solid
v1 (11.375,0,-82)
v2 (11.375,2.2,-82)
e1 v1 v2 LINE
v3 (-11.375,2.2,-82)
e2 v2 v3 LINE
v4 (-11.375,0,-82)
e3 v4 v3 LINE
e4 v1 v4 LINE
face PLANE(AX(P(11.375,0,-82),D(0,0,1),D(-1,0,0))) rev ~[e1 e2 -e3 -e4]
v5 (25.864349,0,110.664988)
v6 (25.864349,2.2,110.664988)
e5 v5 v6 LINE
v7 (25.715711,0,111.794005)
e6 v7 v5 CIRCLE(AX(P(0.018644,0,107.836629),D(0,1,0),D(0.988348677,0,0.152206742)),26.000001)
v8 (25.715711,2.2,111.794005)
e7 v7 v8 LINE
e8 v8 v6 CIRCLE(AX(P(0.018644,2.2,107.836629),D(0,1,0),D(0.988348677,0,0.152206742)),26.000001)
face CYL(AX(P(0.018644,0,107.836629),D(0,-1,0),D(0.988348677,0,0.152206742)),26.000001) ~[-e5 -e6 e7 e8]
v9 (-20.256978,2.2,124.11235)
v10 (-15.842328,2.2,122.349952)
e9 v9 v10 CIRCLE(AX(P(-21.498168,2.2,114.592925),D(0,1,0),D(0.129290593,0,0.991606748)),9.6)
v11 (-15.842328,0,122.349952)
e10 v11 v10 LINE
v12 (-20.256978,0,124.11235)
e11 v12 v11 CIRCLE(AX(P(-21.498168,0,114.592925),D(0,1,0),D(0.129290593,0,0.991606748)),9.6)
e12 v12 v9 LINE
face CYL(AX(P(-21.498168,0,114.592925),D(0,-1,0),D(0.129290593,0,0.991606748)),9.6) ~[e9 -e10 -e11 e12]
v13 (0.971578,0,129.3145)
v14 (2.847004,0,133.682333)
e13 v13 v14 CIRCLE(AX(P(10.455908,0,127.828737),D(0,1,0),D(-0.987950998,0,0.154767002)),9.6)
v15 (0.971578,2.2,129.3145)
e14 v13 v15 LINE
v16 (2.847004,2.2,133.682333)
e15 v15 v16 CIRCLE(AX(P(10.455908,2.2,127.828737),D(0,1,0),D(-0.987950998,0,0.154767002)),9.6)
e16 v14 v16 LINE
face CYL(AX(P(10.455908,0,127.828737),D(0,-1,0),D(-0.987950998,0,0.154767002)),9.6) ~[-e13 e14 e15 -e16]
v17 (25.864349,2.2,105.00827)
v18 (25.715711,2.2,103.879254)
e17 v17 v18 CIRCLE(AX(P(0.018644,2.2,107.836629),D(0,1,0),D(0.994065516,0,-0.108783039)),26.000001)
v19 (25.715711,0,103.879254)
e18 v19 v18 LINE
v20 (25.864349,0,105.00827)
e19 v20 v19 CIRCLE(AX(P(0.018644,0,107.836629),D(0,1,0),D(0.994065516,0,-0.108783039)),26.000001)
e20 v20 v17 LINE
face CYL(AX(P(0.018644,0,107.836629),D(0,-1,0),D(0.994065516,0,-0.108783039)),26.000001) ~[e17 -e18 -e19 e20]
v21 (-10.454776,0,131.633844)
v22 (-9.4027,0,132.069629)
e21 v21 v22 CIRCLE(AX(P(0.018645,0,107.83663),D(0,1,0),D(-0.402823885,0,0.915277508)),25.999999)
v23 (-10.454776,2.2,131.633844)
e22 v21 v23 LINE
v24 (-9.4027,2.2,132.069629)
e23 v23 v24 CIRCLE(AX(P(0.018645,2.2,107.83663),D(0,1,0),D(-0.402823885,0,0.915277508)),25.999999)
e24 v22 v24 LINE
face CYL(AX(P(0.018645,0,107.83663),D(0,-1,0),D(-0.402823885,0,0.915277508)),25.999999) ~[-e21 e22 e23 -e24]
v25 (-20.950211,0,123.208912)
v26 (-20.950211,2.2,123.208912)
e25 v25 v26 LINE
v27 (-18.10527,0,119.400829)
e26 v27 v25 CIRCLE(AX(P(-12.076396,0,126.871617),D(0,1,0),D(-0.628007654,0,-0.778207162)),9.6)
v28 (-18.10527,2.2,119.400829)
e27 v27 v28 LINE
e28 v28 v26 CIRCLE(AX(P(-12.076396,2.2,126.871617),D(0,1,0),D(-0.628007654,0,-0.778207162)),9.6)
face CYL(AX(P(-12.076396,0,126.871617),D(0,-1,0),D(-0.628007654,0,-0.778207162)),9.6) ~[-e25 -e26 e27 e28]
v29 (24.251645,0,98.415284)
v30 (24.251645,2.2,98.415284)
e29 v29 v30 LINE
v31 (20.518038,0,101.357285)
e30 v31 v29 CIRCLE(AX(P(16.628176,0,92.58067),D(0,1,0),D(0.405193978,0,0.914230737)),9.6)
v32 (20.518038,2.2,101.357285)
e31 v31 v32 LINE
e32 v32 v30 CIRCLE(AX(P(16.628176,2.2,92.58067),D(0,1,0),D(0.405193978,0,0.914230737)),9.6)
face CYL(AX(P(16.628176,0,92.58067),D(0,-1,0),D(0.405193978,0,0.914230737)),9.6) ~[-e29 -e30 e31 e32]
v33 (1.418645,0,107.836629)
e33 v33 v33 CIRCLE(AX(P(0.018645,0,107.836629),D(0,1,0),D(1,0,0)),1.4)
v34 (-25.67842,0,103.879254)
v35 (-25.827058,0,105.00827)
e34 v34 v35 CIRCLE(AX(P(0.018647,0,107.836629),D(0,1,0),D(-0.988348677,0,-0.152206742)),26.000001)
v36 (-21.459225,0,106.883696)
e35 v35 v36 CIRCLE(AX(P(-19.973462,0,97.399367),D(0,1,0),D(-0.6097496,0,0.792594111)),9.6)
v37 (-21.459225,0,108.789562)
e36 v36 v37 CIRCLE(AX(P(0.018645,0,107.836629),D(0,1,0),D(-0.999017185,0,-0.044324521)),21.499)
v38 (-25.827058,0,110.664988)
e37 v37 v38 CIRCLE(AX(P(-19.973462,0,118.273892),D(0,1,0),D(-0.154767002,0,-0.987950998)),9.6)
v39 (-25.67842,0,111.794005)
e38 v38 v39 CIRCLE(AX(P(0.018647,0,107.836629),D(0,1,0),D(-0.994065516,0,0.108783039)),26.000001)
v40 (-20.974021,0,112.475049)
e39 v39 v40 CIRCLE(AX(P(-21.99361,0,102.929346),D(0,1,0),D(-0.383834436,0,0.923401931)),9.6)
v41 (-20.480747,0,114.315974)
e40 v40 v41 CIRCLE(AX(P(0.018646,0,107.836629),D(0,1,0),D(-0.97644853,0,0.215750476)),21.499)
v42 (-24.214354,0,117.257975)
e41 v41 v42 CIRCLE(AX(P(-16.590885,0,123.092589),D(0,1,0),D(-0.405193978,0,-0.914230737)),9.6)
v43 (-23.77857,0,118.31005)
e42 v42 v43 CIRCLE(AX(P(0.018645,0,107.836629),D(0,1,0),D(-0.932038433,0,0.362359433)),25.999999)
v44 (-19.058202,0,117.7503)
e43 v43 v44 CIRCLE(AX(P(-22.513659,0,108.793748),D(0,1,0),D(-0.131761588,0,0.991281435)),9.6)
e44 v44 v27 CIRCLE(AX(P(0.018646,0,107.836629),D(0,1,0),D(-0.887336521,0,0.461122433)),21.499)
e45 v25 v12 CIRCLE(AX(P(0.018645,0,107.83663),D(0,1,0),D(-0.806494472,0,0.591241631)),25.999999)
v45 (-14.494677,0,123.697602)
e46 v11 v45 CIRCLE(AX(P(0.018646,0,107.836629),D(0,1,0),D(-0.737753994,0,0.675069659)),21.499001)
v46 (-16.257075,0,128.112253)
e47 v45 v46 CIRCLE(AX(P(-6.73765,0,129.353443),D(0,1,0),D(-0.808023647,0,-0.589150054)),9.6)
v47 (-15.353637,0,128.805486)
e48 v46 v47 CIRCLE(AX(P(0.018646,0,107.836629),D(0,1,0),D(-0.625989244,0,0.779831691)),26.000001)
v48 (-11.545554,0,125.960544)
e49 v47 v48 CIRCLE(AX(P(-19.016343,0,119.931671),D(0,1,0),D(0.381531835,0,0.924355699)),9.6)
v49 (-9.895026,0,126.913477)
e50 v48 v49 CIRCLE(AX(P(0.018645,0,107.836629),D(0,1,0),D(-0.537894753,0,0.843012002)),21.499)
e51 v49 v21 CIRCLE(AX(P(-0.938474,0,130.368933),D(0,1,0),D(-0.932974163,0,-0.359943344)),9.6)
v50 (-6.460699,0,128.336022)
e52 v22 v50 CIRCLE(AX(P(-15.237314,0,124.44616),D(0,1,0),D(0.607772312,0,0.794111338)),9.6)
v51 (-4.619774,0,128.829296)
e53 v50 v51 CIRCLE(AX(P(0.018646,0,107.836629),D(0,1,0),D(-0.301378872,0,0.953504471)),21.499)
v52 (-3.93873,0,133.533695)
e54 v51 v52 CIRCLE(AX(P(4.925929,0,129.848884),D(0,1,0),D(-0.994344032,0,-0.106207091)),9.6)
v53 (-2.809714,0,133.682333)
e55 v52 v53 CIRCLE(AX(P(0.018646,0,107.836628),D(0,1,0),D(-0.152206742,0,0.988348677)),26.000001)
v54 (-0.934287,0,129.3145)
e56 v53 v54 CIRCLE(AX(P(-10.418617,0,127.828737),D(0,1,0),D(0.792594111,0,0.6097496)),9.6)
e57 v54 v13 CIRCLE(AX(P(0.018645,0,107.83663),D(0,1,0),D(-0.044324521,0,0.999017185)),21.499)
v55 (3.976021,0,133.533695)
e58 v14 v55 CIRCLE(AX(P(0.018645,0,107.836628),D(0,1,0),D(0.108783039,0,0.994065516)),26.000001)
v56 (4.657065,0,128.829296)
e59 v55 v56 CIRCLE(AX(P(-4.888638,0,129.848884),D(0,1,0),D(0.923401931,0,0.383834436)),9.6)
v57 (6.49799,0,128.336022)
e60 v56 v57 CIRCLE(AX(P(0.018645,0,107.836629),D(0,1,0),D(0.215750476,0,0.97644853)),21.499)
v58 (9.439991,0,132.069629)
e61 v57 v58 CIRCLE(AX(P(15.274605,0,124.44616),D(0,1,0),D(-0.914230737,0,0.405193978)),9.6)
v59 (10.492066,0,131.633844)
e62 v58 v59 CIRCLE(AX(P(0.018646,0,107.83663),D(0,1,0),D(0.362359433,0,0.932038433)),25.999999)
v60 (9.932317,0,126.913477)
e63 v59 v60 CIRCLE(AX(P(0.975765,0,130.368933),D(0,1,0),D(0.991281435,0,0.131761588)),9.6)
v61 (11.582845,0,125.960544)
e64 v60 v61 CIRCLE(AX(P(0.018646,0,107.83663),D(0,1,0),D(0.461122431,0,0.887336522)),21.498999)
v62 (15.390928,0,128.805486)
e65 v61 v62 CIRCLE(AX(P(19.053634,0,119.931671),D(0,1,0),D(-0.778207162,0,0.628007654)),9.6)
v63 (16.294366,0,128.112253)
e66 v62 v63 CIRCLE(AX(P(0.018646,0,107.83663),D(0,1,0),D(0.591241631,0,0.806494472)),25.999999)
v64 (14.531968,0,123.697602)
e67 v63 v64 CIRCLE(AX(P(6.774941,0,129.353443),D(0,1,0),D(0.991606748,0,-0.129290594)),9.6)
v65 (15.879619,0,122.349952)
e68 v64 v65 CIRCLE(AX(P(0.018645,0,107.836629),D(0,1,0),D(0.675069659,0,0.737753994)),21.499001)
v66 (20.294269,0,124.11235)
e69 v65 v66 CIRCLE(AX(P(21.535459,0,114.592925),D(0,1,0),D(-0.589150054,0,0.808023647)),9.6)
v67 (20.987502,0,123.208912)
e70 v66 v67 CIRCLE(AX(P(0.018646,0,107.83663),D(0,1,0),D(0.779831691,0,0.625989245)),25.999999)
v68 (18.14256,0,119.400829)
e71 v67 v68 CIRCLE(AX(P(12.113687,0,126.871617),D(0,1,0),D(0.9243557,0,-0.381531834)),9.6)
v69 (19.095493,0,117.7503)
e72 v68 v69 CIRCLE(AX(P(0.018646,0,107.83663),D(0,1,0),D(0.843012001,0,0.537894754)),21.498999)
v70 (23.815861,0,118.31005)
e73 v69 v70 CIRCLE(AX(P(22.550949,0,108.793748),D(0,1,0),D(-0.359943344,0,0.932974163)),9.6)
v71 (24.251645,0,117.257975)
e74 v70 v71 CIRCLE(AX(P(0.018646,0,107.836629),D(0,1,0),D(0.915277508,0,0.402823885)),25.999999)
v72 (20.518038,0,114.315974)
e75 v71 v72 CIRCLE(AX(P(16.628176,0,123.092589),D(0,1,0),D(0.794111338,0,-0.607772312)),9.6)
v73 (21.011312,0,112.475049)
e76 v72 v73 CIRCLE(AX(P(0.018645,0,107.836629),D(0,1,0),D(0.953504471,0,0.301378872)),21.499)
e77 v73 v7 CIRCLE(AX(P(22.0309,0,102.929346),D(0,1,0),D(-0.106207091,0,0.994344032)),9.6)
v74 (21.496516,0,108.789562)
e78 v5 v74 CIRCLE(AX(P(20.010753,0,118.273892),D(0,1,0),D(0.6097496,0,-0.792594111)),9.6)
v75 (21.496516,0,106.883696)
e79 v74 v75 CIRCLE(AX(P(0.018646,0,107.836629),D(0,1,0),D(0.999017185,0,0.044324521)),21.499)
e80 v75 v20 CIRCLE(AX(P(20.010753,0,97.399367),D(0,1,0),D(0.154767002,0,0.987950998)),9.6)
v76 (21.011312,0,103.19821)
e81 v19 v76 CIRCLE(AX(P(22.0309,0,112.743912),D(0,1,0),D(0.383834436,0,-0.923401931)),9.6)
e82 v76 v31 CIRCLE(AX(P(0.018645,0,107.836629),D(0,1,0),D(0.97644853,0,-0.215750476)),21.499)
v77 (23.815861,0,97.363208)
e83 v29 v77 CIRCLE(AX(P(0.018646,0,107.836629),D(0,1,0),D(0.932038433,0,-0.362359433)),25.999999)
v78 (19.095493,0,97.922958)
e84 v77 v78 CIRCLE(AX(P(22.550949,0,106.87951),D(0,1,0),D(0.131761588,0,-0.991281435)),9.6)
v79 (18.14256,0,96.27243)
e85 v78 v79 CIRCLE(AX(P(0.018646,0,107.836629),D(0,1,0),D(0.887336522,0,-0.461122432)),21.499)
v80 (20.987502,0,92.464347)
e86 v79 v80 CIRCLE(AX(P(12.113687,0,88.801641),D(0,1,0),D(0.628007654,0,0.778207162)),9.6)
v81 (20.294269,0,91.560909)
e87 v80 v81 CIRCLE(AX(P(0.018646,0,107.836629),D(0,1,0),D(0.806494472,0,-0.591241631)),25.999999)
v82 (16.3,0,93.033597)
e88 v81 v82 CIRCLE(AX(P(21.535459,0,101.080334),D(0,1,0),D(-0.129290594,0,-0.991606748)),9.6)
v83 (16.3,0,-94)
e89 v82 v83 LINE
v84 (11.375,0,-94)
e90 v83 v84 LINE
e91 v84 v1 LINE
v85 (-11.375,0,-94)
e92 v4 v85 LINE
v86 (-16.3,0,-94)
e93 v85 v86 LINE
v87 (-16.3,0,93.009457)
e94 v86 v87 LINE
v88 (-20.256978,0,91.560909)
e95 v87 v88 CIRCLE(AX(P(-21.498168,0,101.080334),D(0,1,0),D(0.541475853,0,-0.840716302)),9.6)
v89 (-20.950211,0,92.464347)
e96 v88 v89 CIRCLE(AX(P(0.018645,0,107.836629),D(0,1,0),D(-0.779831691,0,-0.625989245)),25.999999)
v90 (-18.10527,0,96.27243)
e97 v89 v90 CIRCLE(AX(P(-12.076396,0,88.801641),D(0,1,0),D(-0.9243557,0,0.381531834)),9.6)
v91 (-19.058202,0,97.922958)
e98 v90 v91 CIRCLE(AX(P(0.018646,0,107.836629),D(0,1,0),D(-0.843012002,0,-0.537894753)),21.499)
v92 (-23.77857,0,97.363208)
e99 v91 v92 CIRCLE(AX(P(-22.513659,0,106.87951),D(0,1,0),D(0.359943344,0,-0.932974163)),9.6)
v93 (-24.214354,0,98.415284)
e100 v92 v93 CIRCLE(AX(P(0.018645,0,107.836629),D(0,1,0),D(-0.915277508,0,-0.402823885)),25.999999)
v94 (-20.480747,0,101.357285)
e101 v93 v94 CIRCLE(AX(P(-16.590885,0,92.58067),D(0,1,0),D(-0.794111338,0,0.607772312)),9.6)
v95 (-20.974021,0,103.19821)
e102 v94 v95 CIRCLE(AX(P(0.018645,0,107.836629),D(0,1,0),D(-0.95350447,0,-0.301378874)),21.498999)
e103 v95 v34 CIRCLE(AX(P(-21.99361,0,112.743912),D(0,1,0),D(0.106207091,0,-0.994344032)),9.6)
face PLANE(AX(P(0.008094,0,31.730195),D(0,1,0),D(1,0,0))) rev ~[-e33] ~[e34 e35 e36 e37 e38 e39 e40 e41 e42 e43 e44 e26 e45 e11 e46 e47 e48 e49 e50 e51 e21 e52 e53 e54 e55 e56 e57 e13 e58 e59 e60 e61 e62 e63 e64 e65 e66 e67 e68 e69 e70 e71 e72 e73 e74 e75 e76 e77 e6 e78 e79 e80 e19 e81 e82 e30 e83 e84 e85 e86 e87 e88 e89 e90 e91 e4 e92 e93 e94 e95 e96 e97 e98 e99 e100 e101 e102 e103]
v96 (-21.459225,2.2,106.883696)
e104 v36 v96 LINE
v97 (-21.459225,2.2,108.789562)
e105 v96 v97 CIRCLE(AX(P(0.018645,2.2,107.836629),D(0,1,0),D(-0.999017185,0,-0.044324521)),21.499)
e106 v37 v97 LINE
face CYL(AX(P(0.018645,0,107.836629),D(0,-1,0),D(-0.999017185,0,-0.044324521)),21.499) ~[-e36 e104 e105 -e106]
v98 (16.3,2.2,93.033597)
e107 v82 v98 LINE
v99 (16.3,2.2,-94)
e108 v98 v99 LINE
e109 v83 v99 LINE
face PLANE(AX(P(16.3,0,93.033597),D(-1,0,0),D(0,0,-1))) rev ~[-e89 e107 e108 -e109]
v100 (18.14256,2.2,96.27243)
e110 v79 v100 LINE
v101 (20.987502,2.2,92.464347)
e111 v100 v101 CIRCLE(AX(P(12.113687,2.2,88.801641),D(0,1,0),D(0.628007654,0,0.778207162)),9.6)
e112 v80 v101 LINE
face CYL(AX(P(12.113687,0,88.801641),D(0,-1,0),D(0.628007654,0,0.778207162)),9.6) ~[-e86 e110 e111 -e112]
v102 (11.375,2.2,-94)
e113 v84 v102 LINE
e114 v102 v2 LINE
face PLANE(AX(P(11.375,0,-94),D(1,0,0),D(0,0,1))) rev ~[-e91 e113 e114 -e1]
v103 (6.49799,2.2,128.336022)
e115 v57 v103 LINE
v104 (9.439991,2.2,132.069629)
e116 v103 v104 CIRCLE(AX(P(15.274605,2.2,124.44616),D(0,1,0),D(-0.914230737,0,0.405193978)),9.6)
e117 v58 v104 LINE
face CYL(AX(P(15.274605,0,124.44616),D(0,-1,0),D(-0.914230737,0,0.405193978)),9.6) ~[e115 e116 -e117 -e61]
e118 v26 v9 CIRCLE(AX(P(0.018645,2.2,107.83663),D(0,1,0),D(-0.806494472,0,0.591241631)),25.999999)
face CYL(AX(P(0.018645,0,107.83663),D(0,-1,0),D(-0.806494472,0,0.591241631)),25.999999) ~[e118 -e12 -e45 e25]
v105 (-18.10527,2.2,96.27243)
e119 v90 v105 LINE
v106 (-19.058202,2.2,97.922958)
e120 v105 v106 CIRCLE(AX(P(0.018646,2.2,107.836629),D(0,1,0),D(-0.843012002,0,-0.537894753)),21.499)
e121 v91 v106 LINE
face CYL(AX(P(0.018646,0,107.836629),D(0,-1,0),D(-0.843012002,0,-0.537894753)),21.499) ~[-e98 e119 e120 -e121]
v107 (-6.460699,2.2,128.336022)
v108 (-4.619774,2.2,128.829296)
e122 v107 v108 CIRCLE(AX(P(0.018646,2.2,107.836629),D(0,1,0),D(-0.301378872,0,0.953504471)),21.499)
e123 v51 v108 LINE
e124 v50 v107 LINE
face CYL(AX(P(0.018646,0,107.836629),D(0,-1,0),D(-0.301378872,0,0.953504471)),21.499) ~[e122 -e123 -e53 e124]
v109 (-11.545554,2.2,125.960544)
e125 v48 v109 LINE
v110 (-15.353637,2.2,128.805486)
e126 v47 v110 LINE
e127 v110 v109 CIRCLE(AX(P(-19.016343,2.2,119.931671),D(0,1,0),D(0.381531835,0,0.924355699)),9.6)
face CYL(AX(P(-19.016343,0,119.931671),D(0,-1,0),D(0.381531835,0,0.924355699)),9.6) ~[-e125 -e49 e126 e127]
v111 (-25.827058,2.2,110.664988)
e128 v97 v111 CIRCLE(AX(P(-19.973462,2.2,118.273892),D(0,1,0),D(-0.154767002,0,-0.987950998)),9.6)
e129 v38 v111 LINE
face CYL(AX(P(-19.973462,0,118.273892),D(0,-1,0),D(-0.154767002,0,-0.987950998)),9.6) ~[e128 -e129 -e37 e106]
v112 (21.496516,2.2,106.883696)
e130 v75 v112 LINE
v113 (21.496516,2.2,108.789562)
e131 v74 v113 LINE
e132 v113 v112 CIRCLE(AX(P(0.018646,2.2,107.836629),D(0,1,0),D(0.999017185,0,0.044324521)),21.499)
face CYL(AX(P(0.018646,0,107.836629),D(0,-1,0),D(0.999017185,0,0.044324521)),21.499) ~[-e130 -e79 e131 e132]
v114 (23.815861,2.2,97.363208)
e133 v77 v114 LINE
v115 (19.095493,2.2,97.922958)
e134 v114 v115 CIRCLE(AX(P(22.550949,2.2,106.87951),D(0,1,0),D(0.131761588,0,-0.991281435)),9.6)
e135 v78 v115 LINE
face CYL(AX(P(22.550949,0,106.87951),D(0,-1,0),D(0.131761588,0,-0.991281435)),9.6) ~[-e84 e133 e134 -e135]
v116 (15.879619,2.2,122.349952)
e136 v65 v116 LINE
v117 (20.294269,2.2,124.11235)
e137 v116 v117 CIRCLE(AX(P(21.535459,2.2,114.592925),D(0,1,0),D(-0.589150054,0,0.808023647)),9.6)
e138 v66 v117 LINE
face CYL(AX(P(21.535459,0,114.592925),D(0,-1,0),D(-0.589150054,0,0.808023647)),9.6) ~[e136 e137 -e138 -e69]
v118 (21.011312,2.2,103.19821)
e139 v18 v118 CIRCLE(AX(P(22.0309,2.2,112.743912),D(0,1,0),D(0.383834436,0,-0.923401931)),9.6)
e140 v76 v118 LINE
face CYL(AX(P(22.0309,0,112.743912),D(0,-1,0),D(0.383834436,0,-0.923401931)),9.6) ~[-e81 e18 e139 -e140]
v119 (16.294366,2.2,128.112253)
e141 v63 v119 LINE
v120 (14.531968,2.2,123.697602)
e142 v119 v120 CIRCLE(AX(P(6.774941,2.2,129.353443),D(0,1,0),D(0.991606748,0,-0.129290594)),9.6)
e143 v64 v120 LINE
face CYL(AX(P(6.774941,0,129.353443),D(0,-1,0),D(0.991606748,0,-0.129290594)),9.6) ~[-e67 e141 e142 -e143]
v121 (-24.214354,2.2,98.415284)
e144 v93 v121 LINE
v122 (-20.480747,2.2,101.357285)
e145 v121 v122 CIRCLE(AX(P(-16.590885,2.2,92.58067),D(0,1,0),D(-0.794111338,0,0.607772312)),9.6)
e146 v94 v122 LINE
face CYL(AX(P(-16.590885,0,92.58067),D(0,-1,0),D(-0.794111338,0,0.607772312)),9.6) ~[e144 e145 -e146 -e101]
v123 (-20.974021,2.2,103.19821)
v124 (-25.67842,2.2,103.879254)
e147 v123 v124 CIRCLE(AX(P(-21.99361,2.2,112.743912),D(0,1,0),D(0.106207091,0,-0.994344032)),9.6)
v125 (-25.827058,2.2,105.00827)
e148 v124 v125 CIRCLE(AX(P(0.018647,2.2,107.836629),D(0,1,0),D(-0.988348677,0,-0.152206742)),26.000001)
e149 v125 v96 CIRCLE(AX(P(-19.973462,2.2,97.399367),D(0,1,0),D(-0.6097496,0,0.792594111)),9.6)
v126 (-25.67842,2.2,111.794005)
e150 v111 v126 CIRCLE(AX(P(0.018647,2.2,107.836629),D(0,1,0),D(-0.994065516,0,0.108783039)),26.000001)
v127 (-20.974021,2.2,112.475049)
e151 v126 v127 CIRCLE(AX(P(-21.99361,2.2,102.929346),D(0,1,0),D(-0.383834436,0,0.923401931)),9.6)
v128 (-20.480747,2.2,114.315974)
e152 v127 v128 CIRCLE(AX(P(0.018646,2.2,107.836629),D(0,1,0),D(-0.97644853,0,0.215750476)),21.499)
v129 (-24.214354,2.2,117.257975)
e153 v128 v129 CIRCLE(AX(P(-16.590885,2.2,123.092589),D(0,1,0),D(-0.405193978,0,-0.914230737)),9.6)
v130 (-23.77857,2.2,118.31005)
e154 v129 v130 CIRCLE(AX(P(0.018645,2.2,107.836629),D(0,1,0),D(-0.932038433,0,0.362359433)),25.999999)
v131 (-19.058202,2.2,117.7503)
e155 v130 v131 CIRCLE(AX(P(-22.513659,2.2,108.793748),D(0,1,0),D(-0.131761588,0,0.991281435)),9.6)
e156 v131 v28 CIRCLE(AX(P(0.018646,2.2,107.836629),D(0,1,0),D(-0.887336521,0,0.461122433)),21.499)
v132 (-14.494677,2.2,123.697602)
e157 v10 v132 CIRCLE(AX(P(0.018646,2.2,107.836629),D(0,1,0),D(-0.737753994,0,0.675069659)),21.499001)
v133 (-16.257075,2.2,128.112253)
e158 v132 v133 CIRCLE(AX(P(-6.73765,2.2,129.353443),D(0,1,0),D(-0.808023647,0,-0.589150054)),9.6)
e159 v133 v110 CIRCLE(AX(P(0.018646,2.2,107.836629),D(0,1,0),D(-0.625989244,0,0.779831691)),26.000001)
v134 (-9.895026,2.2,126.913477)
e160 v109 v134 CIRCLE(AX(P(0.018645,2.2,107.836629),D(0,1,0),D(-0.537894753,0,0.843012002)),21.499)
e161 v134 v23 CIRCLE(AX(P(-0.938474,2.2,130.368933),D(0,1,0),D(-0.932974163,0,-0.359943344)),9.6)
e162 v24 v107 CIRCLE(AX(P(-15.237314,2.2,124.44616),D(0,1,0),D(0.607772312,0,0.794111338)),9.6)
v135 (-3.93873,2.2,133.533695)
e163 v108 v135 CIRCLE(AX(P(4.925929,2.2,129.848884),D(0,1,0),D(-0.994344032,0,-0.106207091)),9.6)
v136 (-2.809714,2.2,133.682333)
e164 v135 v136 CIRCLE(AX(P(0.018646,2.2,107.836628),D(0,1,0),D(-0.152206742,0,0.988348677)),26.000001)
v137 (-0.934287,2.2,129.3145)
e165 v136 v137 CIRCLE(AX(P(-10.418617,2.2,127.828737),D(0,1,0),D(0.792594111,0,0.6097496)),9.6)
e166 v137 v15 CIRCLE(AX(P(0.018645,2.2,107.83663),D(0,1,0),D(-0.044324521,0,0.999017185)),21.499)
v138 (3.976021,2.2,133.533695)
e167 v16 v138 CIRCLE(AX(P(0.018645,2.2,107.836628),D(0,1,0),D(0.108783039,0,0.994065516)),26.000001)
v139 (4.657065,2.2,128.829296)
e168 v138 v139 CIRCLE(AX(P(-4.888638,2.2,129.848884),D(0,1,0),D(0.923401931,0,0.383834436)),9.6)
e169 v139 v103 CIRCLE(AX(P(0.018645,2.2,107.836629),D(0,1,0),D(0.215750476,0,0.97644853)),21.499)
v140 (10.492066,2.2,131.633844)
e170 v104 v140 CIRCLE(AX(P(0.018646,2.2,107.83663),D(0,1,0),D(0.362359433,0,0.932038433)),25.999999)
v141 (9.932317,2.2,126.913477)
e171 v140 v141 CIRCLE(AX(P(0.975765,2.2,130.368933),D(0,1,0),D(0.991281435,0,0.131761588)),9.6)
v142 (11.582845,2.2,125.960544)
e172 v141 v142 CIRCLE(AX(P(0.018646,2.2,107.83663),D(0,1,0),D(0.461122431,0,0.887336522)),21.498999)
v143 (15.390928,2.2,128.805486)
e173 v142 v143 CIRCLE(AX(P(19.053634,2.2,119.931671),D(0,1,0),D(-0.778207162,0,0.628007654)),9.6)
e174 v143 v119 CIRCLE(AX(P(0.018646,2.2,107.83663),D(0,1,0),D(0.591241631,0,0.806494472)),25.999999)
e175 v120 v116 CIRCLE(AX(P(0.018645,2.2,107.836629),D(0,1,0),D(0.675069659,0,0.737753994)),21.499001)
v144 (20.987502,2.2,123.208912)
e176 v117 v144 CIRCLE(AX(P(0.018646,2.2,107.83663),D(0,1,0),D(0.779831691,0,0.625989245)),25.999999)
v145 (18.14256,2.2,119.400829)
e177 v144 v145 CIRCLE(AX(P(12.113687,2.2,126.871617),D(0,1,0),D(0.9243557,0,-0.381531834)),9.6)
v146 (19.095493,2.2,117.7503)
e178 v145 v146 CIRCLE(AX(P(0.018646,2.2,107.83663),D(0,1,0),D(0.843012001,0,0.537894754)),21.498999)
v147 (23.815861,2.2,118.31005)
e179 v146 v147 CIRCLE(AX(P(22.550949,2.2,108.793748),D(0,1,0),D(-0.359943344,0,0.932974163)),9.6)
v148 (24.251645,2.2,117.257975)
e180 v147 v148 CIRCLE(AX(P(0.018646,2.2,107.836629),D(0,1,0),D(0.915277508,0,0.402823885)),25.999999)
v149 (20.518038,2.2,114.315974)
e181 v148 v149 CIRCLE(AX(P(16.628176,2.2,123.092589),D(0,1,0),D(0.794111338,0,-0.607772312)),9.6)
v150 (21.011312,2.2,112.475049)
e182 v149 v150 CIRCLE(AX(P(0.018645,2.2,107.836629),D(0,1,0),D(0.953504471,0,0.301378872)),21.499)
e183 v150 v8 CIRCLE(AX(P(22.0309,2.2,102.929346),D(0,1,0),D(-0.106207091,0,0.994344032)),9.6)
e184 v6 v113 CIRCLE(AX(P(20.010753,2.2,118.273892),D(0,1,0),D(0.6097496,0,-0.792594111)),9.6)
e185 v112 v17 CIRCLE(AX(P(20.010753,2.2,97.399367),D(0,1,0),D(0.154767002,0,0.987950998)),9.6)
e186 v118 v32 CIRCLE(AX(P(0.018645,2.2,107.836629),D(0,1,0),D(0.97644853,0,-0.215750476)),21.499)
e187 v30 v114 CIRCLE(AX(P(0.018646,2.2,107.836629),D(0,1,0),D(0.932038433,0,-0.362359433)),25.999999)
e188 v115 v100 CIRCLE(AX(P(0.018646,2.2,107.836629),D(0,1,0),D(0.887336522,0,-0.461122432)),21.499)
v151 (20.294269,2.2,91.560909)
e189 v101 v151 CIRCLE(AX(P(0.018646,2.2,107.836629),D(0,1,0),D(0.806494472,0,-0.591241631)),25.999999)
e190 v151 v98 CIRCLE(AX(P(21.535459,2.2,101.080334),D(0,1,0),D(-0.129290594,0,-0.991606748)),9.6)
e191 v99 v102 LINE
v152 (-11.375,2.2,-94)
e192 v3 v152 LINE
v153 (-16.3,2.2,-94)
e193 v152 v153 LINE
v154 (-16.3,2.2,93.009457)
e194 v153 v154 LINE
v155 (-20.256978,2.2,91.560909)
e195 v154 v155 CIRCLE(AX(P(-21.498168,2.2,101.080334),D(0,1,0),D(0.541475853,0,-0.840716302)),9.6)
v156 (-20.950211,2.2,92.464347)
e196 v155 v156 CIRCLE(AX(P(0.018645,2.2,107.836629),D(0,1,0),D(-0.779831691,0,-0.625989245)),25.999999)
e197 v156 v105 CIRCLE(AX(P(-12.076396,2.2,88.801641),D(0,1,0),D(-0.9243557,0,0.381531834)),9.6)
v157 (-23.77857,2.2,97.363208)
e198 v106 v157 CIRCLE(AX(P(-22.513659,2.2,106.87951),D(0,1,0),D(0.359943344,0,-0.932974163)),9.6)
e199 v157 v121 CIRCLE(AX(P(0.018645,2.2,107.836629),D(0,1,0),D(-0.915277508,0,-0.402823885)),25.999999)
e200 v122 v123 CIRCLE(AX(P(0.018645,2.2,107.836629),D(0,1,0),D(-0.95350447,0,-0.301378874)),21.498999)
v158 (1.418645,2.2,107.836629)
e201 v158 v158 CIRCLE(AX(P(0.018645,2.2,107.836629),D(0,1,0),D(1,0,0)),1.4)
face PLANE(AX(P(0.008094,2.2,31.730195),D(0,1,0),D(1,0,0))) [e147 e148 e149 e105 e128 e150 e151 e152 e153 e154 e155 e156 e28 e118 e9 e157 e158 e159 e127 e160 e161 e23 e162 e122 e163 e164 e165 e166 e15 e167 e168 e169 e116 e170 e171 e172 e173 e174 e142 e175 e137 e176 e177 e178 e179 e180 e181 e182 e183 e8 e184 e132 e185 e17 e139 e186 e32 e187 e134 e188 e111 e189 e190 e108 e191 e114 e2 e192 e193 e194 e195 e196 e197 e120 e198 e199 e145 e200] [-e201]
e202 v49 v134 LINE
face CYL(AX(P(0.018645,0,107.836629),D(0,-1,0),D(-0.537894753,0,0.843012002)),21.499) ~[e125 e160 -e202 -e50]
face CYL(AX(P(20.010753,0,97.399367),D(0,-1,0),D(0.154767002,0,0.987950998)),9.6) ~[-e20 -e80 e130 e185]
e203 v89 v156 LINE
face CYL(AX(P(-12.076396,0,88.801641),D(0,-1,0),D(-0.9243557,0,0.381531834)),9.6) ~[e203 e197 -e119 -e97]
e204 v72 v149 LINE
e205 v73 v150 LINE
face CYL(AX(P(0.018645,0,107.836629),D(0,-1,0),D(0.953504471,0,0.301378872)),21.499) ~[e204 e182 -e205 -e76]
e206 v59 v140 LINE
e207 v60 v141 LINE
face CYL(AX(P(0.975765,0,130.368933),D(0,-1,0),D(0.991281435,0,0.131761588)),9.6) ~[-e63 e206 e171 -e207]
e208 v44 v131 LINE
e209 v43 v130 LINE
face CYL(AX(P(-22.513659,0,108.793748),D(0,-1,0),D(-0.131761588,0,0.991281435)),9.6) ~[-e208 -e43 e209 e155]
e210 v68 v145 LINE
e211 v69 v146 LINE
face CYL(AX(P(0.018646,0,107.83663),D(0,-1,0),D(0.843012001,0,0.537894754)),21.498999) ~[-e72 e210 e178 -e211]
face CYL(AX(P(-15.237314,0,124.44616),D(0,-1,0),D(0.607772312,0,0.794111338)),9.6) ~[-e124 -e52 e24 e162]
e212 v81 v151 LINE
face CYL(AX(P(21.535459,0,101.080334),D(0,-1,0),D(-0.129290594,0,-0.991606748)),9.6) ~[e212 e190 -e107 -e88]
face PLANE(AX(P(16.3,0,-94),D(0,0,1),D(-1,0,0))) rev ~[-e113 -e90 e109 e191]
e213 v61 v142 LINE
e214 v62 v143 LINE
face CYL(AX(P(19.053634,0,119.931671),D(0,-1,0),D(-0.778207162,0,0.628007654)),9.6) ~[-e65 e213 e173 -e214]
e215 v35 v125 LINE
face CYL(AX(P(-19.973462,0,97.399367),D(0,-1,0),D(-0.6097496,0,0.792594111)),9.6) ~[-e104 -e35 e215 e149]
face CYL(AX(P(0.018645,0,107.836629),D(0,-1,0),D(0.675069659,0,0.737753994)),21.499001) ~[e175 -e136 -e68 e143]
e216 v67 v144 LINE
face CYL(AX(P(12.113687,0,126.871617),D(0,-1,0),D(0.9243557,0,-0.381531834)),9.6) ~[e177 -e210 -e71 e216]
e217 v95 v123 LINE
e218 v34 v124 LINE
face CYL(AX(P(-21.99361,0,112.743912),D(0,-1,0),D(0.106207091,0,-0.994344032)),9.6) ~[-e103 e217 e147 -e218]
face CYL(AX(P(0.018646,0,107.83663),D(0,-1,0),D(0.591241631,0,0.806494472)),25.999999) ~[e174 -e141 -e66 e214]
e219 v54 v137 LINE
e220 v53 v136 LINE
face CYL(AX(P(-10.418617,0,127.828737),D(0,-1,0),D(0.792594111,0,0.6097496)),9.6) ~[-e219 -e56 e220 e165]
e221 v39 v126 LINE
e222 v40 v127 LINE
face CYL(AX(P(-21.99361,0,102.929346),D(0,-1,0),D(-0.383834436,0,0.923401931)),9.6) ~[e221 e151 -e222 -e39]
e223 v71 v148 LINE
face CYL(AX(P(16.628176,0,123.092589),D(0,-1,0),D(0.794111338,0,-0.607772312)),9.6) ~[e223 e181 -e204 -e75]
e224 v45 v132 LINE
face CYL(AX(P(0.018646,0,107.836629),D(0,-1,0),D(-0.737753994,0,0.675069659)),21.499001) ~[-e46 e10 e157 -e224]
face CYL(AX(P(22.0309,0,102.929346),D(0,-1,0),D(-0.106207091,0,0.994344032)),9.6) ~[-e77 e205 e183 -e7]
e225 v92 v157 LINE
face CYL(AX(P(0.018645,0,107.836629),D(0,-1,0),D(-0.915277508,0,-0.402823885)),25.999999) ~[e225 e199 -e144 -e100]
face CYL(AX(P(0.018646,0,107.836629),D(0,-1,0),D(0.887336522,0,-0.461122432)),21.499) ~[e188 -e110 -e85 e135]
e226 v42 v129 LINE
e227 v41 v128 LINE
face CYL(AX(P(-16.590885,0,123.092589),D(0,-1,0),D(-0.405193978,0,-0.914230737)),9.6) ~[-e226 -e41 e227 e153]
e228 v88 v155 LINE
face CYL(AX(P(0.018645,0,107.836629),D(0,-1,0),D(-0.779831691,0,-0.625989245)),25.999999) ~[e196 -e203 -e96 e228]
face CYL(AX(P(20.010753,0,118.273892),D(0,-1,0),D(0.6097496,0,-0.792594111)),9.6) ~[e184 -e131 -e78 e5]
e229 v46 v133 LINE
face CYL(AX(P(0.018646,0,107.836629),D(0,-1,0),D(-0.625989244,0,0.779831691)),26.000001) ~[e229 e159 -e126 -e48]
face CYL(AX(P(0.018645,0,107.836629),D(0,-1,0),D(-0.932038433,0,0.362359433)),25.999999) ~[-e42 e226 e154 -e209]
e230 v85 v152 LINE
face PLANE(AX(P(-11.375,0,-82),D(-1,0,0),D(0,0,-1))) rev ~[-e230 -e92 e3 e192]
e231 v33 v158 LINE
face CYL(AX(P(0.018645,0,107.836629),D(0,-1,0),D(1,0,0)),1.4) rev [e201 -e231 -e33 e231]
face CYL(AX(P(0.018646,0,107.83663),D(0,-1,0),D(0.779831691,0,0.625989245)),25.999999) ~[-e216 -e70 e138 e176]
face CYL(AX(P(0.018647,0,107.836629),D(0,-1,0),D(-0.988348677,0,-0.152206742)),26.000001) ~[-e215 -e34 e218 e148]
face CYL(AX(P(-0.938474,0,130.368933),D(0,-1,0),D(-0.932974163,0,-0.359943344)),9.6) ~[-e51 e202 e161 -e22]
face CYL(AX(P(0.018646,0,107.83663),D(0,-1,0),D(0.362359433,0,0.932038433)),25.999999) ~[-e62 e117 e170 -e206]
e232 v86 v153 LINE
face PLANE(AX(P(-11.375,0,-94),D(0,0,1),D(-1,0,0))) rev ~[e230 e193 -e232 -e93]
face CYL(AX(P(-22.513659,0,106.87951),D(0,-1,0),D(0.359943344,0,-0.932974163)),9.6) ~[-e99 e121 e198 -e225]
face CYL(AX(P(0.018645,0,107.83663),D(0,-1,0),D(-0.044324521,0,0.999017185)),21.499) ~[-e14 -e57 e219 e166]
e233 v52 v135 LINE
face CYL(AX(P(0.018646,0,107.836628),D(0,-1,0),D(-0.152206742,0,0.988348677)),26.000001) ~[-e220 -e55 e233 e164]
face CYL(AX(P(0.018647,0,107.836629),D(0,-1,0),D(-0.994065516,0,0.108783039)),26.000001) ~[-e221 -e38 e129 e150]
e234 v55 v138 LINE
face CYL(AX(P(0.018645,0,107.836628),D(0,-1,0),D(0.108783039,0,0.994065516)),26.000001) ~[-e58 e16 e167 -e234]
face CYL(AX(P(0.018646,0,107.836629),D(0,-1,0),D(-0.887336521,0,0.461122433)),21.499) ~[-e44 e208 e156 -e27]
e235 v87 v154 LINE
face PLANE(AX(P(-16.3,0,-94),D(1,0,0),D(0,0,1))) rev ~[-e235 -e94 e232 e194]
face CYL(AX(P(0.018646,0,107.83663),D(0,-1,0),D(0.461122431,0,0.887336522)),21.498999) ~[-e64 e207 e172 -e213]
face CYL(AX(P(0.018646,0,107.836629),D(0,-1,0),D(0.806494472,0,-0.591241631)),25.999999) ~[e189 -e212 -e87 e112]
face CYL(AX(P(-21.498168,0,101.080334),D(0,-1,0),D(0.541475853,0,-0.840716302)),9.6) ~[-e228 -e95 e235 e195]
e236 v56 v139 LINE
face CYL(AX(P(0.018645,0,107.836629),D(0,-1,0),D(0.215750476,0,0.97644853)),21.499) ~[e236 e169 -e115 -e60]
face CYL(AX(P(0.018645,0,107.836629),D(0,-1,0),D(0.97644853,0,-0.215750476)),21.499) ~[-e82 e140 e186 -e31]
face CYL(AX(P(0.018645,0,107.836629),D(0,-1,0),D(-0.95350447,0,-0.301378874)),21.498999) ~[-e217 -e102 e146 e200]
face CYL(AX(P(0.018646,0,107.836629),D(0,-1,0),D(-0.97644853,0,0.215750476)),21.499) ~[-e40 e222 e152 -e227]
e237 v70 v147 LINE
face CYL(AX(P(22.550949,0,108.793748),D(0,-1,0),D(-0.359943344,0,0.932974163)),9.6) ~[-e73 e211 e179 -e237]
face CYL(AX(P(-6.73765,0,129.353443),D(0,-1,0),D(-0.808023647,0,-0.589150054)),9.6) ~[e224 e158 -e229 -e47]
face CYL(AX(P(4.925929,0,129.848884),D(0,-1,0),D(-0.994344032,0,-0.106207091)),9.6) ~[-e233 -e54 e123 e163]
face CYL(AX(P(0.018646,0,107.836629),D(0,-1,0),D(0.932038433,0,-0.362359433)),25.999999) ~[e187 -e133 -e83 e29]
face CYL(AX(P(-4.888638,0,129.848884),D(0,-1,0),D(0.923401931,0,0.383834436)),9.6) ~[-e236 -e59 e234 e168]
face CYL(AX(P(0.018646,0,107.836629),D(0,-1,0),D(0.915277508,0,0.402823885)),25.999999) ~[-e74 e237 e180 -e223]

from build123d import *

# Parameters (mm, degrees)
SKETCH1_R           = 1.4
BOSS_EXTRUDE2_DEPTH = 2.2


with BuildPart() as part:
    # Sketch1 → Boss-Extrude2 (new body)
    with BuildSketch(Plane(origin=(0, 0, 0), x_dir=(1, 0, 0), z_dir=(0, 1, 0))):
        with BuildLine():
            Line((16.3, 94), (11.375, 94))
            Line((11.375, 94), (11.375, 82))
            Line((11.375, 82), (-11.375, 82))
            Line((-11.375, 82), (-11.375, 94))
            Line((-11.375, 94), (-16.3, 94))
            Line((-16.3, 94), (-16.3, -93.009457189))
            ThreePointArc((-16.3, -93.009457189), (-18.198030993, -92.065396391), (-20.256978495, -91.560908909))
            ThreePointArc((-20.256978495, -91.560908909), (-20.608541379, -92.008832104), (-20.950210791, -92.464346827))
            ThreePointArc((-20.950210791, -92.464346827), (-19.767163473, -94.547256661), (-18.105269554, -96.272429968))
            ThreePointArc((-18.105269554, -96.272429968), (-18.600034687, -97.087129259), (-19.058202403, -97.922958078))
            ThreePointArc((-19.058202403, -97.922958078), (-21.383193272, -97.34630238), (-23.778569761, -97.363208265))
            ThreePointArc((-23.778569761, -97.363208265), (-24.002222377, -97.886860017), (-24.214353801, -98.415284003))
            ThreePointArc((-24.214353801, -98.415284003), (-22.532521108, -100.121025228), (-20.480747143, -101.357284883))
            ThreePointArc((-20.480747143, -101.357284883), (-20.747793871, -102.272278608), (-20.974021483, -103.198209782))
            ThreePointArc((-20.974021483, -103.198209782), (-23.369039687, -103.242955066), (-25.678420136, -103.879253953))
            ThreePointArc((-25.678420136, -103.879253953), (-25.758920927, -104.442948261), (-25.827057957, -105.008270289))
            ThreePointArc((-25.827057957, -105.008270289), (-23.761054008, -106.220599459), (-21.459225003, -106.88369641))
            ThreePointArc((-21.459225003, -106.88369641), (-21.480354532, -107.836629259), (-21.459225003, -108.789562107))
            ThreePointArc((-21.459225003, -108.789562107), (-23.761054008, -109.452659058), (-25.827057957, -110.664988228))
            ThreePointArc((-25.827057957, -110.664988228), (-25.758920927, -111.230310256), (-25.678420136, -111.794004564))
            ThreePointArc((-25.678420136, -111.794004564), (-23.369039687, -112.430303451), (-20.974021484, -112.475048735))
            ThreePointArc((-20.974021484, -112.475048735), (-20.747793871, -113.400979909), (-20.480747144, -114.315973634))
            ThreePointArc((-20.480747144, -114.315973634), (-22.532521108, -115.552233289), (-24.214353801, -117.257974514))
            ThreePointArc((-24.214353801, -117.257974514), (-24.002222377, -117.7863985), (-23.778569761, -118.310050252))
            ThreePointArc((-23.778569761, -118.310050252), (-21.383193272, -118.326956137), (-19.058202403, -117.750300439))
            ThreePointArc((-19.058202403, -117.750300439), (-18.600034687, -118.586129259), (-18.105269555, -119.40082855))
            ThreePointArc((-18.105269555, -119.40082855), (-19.767163473, -121.126001856), (-20.950210791, -123.20891169))
            ThreePointArc((-20.950210791, -123.20891169), (-20.608541379, -123.664426413), (-20.256978495, -124.112349608))
            ThreePointArc((-20.256978495, -124.112349608), (-17.938846915, -123.508710383), (-15.842327667, -122.349951835))
            ThreePointArc((-15.842327667, -122.349951835), (-15.18344322, -123.038717947), (-14.494677108, -123.697602394))
            ThreePointArc((-14.494677108, -123.697602394), (-15.653435656, -125.794121643), (-16.257074881, -128.112253222))
            ThreePointArc((-16.257074881, -128.112253222), (-15.809151686, -128.463816106), (-15.353636963, -128.805485519))
            ThreePointArc((-15.353636963, -128.805485519), (-13.270727129, -127.6224382), (-11.545553822, -125.960544282))
            ThreePointArc((-11.545553822, -125.960544282), (-10.730854531, -126.455309415), (-9.895025712, -126.91347713))
            ThreePointArc((-9.895025712, -126.91347713), (-10.47168141, -129.238467999), (-10.454775525, -131.633844488))
            ThreePointArc((-10.454775525, -131.633844488), (-9.931123773, -131.857497104), (-9.402699787, -132.069628528))
            ThreePointArc((-9.402699787, -132.069628528), (-7.696958562, -130.387795835), (-6.460698907, -128.336021871))
            ThreePointArc((-6.460698907, -128.336021871), (-5.545705182, -128.603068598), (-4.619774008, -128.829296211))
            ThreePointArc((-4.619774008, -128.829296211), (-4.575028724, -131.224314414), (-3.938729837, -133.533694863))
            ThreePointArc((-3.938729837, -133.533694863), (-3.375035529, -133.614195654), (-2.809713501, -133.682332684))
            ThreePointArc((-2.809713501, -133.682332684), (-1.597384331, -131.616328735), (-0.93428738, -129.31449973))
            ThreePointArc((-0.93428738, -129.31449973), (0.018645469, -129.335629259), (0.971578317, -129.31449973))
            ThreePointArc((0.971578317, -129.31449973), (1.634675268, -131.616328735), (2.847004438, -133.682332684))
            ThreePointArc((2.847004438, -133.682332684), (3.412326466, -133.614195654), (3.976020774, -133.533694863))
            ThreePointArc((3.976020774, -133.533694863), (4.612319661, -131.224314414), (4.657064945, -128.829296211))
            ThreePointArc((4.657064945, -128.829296211), (5.582996119, -128.603068598), (6.497989844, -128.336021871))
            ThreePointArc((6.497989844, -128.336021871), (7.734249499, -130.387795835), (9.439990724, -132.069628528))
            ThreePointArc((9.439990724, -132.069628528), (9.96841471, -131.857497104), (10.492066462, -131.633844488))
            ThreePointArc((10.492066462, -131.633844488), (10.508972347, -129.238467999), (9.932316649, -126.91347713))
            ThreePointArc((9.932316649, -126.91347713), (10.768145469, -126.455309415), (11.582844759, -125.960544282))
            ThreePointArc((11.582844759, -125.960544282), (13.308018066, -127.6224382), (15.3909279, -128.805485518))
            ThreePointArc((15.3909279, -128.805485518), (15.846442623, -128.463816106), (16.294365818, -128.112253222))
            ThreePointArc((16.294365818, -128.112253222), (15.690726593, -125.794121643), (14.531968045, -123.697602394))
            ThreePointArc((14.531968045, -123.697602394), (15.220734157, -123.038717947), (15.879618604, -122.349951835))
            ThreePointArc((15.879618604, -122.349951835), (17.976137853, -123.508710383), (20.294269432, -124.112349608))
            ThreePointArc((20.294269432, -124.112349608), (20.645832316, -123.664426413), (20.987501728, -123.20891169))
            ThreePointArc((20.987501728, -123.20891169), (19.80445441, -121.126001856), (18.142560492, -119.400828549))
            ThreePointArc((18.142560492, -119.400828549), (18.637325625, -118.586129259), (19.09549334, -117.750300439))
            ThreePointArc((19.09549334, -117.750300439), (21.420484209, -118.326956137), (23.815860698, -118.310050252))
            ThreePointArc((23.815860698, -118.310050252), (24.039513314, -117.7863985), (24.251644738, -117.257974514))
            ThreePointArc((24.251644738, -117.257974514), (22.569812045, -115.552233289), (20.518038081, -114.315973634))
            ThreePointArc((20.518038081, -114.315973634), (20.785084808, -113.400979909), (21.011312421, -112.475048735))
            ThreePointArc((21.011312421, -112.475048735), (23.406330624, -112.430303451), (25.715711073, -111.794004564))
            ThreePointArc((25.715711073, -111.794004564), (25.796211864, -111.230310256), (25.864348894, -110.664988228))
            ThreePointArc((25.864348894, -110.664988228), (23.798344945, -109.452659058), (21.49651594, -108.789562107))
            ThreePointArc((21.49651594, -108.789562107), (21.517645469, -107.836629259), (21.49651594, -106.88369641))
            ThreePointArc((21.49651594, -106.88369641), (23.798344945, -106.220599459), (25.864348894, -105.008270289))
            ThreePointArc((25.864348894, -105.008270289), (25.796211864, -104.442948261), (25.715711073, -103.879253953))
            ThreePointArc((25.715711073, -103.879253953), (23.406330624, -103.242955066), (21.011312421, -103.198209782))
            ThreePointArc((21.011312421, -103.198209782), (20.785084808, -102.272278608), (20.518038081, -101.357284883))
            ThreePointArc((20.518038081, -101.357284883), (22.569812045, -100.121025228), (24.251644738, -98.415284003))
            ThreePointArc((24.251644738, -98.415284003), (24.039513314, -97.886860017), (23.815860698, -97.363208265))
            ThreePointArc((23.815860698, -97.363208265), (21.420484209, -97.34630238), (19.09549334, -97.922958078))
            ThreePointArc((19.09549334, -97.922958078), (18.637325625, -97.087129259), (18.142560492, -96.272429968))
            ThreePointArc((18.142560492, -96.272429968), (19.80445441, -94.547256661), (20.987501728, -92.464346827))
            ThreePointArc((20.987501728, -92.464346827), (20.645832316, -92.008832104), (20.294269432, -91.560908909))
            ThreePointArc((20.294269432, -91.560908909), (18.214473173, -92.073055949), (16.3, -93.033597224))
            Line((16.3, -93.033597224), (16.3, 94))
        make_face()
        with Locations((0.018645469, -107.836629259)):
            Circle(SKETCH1_R, mode=Mode.SUBTRACT)
    extrude(amount=BOSS_EXTRUDE2_DEPTH)


solid = part.part
